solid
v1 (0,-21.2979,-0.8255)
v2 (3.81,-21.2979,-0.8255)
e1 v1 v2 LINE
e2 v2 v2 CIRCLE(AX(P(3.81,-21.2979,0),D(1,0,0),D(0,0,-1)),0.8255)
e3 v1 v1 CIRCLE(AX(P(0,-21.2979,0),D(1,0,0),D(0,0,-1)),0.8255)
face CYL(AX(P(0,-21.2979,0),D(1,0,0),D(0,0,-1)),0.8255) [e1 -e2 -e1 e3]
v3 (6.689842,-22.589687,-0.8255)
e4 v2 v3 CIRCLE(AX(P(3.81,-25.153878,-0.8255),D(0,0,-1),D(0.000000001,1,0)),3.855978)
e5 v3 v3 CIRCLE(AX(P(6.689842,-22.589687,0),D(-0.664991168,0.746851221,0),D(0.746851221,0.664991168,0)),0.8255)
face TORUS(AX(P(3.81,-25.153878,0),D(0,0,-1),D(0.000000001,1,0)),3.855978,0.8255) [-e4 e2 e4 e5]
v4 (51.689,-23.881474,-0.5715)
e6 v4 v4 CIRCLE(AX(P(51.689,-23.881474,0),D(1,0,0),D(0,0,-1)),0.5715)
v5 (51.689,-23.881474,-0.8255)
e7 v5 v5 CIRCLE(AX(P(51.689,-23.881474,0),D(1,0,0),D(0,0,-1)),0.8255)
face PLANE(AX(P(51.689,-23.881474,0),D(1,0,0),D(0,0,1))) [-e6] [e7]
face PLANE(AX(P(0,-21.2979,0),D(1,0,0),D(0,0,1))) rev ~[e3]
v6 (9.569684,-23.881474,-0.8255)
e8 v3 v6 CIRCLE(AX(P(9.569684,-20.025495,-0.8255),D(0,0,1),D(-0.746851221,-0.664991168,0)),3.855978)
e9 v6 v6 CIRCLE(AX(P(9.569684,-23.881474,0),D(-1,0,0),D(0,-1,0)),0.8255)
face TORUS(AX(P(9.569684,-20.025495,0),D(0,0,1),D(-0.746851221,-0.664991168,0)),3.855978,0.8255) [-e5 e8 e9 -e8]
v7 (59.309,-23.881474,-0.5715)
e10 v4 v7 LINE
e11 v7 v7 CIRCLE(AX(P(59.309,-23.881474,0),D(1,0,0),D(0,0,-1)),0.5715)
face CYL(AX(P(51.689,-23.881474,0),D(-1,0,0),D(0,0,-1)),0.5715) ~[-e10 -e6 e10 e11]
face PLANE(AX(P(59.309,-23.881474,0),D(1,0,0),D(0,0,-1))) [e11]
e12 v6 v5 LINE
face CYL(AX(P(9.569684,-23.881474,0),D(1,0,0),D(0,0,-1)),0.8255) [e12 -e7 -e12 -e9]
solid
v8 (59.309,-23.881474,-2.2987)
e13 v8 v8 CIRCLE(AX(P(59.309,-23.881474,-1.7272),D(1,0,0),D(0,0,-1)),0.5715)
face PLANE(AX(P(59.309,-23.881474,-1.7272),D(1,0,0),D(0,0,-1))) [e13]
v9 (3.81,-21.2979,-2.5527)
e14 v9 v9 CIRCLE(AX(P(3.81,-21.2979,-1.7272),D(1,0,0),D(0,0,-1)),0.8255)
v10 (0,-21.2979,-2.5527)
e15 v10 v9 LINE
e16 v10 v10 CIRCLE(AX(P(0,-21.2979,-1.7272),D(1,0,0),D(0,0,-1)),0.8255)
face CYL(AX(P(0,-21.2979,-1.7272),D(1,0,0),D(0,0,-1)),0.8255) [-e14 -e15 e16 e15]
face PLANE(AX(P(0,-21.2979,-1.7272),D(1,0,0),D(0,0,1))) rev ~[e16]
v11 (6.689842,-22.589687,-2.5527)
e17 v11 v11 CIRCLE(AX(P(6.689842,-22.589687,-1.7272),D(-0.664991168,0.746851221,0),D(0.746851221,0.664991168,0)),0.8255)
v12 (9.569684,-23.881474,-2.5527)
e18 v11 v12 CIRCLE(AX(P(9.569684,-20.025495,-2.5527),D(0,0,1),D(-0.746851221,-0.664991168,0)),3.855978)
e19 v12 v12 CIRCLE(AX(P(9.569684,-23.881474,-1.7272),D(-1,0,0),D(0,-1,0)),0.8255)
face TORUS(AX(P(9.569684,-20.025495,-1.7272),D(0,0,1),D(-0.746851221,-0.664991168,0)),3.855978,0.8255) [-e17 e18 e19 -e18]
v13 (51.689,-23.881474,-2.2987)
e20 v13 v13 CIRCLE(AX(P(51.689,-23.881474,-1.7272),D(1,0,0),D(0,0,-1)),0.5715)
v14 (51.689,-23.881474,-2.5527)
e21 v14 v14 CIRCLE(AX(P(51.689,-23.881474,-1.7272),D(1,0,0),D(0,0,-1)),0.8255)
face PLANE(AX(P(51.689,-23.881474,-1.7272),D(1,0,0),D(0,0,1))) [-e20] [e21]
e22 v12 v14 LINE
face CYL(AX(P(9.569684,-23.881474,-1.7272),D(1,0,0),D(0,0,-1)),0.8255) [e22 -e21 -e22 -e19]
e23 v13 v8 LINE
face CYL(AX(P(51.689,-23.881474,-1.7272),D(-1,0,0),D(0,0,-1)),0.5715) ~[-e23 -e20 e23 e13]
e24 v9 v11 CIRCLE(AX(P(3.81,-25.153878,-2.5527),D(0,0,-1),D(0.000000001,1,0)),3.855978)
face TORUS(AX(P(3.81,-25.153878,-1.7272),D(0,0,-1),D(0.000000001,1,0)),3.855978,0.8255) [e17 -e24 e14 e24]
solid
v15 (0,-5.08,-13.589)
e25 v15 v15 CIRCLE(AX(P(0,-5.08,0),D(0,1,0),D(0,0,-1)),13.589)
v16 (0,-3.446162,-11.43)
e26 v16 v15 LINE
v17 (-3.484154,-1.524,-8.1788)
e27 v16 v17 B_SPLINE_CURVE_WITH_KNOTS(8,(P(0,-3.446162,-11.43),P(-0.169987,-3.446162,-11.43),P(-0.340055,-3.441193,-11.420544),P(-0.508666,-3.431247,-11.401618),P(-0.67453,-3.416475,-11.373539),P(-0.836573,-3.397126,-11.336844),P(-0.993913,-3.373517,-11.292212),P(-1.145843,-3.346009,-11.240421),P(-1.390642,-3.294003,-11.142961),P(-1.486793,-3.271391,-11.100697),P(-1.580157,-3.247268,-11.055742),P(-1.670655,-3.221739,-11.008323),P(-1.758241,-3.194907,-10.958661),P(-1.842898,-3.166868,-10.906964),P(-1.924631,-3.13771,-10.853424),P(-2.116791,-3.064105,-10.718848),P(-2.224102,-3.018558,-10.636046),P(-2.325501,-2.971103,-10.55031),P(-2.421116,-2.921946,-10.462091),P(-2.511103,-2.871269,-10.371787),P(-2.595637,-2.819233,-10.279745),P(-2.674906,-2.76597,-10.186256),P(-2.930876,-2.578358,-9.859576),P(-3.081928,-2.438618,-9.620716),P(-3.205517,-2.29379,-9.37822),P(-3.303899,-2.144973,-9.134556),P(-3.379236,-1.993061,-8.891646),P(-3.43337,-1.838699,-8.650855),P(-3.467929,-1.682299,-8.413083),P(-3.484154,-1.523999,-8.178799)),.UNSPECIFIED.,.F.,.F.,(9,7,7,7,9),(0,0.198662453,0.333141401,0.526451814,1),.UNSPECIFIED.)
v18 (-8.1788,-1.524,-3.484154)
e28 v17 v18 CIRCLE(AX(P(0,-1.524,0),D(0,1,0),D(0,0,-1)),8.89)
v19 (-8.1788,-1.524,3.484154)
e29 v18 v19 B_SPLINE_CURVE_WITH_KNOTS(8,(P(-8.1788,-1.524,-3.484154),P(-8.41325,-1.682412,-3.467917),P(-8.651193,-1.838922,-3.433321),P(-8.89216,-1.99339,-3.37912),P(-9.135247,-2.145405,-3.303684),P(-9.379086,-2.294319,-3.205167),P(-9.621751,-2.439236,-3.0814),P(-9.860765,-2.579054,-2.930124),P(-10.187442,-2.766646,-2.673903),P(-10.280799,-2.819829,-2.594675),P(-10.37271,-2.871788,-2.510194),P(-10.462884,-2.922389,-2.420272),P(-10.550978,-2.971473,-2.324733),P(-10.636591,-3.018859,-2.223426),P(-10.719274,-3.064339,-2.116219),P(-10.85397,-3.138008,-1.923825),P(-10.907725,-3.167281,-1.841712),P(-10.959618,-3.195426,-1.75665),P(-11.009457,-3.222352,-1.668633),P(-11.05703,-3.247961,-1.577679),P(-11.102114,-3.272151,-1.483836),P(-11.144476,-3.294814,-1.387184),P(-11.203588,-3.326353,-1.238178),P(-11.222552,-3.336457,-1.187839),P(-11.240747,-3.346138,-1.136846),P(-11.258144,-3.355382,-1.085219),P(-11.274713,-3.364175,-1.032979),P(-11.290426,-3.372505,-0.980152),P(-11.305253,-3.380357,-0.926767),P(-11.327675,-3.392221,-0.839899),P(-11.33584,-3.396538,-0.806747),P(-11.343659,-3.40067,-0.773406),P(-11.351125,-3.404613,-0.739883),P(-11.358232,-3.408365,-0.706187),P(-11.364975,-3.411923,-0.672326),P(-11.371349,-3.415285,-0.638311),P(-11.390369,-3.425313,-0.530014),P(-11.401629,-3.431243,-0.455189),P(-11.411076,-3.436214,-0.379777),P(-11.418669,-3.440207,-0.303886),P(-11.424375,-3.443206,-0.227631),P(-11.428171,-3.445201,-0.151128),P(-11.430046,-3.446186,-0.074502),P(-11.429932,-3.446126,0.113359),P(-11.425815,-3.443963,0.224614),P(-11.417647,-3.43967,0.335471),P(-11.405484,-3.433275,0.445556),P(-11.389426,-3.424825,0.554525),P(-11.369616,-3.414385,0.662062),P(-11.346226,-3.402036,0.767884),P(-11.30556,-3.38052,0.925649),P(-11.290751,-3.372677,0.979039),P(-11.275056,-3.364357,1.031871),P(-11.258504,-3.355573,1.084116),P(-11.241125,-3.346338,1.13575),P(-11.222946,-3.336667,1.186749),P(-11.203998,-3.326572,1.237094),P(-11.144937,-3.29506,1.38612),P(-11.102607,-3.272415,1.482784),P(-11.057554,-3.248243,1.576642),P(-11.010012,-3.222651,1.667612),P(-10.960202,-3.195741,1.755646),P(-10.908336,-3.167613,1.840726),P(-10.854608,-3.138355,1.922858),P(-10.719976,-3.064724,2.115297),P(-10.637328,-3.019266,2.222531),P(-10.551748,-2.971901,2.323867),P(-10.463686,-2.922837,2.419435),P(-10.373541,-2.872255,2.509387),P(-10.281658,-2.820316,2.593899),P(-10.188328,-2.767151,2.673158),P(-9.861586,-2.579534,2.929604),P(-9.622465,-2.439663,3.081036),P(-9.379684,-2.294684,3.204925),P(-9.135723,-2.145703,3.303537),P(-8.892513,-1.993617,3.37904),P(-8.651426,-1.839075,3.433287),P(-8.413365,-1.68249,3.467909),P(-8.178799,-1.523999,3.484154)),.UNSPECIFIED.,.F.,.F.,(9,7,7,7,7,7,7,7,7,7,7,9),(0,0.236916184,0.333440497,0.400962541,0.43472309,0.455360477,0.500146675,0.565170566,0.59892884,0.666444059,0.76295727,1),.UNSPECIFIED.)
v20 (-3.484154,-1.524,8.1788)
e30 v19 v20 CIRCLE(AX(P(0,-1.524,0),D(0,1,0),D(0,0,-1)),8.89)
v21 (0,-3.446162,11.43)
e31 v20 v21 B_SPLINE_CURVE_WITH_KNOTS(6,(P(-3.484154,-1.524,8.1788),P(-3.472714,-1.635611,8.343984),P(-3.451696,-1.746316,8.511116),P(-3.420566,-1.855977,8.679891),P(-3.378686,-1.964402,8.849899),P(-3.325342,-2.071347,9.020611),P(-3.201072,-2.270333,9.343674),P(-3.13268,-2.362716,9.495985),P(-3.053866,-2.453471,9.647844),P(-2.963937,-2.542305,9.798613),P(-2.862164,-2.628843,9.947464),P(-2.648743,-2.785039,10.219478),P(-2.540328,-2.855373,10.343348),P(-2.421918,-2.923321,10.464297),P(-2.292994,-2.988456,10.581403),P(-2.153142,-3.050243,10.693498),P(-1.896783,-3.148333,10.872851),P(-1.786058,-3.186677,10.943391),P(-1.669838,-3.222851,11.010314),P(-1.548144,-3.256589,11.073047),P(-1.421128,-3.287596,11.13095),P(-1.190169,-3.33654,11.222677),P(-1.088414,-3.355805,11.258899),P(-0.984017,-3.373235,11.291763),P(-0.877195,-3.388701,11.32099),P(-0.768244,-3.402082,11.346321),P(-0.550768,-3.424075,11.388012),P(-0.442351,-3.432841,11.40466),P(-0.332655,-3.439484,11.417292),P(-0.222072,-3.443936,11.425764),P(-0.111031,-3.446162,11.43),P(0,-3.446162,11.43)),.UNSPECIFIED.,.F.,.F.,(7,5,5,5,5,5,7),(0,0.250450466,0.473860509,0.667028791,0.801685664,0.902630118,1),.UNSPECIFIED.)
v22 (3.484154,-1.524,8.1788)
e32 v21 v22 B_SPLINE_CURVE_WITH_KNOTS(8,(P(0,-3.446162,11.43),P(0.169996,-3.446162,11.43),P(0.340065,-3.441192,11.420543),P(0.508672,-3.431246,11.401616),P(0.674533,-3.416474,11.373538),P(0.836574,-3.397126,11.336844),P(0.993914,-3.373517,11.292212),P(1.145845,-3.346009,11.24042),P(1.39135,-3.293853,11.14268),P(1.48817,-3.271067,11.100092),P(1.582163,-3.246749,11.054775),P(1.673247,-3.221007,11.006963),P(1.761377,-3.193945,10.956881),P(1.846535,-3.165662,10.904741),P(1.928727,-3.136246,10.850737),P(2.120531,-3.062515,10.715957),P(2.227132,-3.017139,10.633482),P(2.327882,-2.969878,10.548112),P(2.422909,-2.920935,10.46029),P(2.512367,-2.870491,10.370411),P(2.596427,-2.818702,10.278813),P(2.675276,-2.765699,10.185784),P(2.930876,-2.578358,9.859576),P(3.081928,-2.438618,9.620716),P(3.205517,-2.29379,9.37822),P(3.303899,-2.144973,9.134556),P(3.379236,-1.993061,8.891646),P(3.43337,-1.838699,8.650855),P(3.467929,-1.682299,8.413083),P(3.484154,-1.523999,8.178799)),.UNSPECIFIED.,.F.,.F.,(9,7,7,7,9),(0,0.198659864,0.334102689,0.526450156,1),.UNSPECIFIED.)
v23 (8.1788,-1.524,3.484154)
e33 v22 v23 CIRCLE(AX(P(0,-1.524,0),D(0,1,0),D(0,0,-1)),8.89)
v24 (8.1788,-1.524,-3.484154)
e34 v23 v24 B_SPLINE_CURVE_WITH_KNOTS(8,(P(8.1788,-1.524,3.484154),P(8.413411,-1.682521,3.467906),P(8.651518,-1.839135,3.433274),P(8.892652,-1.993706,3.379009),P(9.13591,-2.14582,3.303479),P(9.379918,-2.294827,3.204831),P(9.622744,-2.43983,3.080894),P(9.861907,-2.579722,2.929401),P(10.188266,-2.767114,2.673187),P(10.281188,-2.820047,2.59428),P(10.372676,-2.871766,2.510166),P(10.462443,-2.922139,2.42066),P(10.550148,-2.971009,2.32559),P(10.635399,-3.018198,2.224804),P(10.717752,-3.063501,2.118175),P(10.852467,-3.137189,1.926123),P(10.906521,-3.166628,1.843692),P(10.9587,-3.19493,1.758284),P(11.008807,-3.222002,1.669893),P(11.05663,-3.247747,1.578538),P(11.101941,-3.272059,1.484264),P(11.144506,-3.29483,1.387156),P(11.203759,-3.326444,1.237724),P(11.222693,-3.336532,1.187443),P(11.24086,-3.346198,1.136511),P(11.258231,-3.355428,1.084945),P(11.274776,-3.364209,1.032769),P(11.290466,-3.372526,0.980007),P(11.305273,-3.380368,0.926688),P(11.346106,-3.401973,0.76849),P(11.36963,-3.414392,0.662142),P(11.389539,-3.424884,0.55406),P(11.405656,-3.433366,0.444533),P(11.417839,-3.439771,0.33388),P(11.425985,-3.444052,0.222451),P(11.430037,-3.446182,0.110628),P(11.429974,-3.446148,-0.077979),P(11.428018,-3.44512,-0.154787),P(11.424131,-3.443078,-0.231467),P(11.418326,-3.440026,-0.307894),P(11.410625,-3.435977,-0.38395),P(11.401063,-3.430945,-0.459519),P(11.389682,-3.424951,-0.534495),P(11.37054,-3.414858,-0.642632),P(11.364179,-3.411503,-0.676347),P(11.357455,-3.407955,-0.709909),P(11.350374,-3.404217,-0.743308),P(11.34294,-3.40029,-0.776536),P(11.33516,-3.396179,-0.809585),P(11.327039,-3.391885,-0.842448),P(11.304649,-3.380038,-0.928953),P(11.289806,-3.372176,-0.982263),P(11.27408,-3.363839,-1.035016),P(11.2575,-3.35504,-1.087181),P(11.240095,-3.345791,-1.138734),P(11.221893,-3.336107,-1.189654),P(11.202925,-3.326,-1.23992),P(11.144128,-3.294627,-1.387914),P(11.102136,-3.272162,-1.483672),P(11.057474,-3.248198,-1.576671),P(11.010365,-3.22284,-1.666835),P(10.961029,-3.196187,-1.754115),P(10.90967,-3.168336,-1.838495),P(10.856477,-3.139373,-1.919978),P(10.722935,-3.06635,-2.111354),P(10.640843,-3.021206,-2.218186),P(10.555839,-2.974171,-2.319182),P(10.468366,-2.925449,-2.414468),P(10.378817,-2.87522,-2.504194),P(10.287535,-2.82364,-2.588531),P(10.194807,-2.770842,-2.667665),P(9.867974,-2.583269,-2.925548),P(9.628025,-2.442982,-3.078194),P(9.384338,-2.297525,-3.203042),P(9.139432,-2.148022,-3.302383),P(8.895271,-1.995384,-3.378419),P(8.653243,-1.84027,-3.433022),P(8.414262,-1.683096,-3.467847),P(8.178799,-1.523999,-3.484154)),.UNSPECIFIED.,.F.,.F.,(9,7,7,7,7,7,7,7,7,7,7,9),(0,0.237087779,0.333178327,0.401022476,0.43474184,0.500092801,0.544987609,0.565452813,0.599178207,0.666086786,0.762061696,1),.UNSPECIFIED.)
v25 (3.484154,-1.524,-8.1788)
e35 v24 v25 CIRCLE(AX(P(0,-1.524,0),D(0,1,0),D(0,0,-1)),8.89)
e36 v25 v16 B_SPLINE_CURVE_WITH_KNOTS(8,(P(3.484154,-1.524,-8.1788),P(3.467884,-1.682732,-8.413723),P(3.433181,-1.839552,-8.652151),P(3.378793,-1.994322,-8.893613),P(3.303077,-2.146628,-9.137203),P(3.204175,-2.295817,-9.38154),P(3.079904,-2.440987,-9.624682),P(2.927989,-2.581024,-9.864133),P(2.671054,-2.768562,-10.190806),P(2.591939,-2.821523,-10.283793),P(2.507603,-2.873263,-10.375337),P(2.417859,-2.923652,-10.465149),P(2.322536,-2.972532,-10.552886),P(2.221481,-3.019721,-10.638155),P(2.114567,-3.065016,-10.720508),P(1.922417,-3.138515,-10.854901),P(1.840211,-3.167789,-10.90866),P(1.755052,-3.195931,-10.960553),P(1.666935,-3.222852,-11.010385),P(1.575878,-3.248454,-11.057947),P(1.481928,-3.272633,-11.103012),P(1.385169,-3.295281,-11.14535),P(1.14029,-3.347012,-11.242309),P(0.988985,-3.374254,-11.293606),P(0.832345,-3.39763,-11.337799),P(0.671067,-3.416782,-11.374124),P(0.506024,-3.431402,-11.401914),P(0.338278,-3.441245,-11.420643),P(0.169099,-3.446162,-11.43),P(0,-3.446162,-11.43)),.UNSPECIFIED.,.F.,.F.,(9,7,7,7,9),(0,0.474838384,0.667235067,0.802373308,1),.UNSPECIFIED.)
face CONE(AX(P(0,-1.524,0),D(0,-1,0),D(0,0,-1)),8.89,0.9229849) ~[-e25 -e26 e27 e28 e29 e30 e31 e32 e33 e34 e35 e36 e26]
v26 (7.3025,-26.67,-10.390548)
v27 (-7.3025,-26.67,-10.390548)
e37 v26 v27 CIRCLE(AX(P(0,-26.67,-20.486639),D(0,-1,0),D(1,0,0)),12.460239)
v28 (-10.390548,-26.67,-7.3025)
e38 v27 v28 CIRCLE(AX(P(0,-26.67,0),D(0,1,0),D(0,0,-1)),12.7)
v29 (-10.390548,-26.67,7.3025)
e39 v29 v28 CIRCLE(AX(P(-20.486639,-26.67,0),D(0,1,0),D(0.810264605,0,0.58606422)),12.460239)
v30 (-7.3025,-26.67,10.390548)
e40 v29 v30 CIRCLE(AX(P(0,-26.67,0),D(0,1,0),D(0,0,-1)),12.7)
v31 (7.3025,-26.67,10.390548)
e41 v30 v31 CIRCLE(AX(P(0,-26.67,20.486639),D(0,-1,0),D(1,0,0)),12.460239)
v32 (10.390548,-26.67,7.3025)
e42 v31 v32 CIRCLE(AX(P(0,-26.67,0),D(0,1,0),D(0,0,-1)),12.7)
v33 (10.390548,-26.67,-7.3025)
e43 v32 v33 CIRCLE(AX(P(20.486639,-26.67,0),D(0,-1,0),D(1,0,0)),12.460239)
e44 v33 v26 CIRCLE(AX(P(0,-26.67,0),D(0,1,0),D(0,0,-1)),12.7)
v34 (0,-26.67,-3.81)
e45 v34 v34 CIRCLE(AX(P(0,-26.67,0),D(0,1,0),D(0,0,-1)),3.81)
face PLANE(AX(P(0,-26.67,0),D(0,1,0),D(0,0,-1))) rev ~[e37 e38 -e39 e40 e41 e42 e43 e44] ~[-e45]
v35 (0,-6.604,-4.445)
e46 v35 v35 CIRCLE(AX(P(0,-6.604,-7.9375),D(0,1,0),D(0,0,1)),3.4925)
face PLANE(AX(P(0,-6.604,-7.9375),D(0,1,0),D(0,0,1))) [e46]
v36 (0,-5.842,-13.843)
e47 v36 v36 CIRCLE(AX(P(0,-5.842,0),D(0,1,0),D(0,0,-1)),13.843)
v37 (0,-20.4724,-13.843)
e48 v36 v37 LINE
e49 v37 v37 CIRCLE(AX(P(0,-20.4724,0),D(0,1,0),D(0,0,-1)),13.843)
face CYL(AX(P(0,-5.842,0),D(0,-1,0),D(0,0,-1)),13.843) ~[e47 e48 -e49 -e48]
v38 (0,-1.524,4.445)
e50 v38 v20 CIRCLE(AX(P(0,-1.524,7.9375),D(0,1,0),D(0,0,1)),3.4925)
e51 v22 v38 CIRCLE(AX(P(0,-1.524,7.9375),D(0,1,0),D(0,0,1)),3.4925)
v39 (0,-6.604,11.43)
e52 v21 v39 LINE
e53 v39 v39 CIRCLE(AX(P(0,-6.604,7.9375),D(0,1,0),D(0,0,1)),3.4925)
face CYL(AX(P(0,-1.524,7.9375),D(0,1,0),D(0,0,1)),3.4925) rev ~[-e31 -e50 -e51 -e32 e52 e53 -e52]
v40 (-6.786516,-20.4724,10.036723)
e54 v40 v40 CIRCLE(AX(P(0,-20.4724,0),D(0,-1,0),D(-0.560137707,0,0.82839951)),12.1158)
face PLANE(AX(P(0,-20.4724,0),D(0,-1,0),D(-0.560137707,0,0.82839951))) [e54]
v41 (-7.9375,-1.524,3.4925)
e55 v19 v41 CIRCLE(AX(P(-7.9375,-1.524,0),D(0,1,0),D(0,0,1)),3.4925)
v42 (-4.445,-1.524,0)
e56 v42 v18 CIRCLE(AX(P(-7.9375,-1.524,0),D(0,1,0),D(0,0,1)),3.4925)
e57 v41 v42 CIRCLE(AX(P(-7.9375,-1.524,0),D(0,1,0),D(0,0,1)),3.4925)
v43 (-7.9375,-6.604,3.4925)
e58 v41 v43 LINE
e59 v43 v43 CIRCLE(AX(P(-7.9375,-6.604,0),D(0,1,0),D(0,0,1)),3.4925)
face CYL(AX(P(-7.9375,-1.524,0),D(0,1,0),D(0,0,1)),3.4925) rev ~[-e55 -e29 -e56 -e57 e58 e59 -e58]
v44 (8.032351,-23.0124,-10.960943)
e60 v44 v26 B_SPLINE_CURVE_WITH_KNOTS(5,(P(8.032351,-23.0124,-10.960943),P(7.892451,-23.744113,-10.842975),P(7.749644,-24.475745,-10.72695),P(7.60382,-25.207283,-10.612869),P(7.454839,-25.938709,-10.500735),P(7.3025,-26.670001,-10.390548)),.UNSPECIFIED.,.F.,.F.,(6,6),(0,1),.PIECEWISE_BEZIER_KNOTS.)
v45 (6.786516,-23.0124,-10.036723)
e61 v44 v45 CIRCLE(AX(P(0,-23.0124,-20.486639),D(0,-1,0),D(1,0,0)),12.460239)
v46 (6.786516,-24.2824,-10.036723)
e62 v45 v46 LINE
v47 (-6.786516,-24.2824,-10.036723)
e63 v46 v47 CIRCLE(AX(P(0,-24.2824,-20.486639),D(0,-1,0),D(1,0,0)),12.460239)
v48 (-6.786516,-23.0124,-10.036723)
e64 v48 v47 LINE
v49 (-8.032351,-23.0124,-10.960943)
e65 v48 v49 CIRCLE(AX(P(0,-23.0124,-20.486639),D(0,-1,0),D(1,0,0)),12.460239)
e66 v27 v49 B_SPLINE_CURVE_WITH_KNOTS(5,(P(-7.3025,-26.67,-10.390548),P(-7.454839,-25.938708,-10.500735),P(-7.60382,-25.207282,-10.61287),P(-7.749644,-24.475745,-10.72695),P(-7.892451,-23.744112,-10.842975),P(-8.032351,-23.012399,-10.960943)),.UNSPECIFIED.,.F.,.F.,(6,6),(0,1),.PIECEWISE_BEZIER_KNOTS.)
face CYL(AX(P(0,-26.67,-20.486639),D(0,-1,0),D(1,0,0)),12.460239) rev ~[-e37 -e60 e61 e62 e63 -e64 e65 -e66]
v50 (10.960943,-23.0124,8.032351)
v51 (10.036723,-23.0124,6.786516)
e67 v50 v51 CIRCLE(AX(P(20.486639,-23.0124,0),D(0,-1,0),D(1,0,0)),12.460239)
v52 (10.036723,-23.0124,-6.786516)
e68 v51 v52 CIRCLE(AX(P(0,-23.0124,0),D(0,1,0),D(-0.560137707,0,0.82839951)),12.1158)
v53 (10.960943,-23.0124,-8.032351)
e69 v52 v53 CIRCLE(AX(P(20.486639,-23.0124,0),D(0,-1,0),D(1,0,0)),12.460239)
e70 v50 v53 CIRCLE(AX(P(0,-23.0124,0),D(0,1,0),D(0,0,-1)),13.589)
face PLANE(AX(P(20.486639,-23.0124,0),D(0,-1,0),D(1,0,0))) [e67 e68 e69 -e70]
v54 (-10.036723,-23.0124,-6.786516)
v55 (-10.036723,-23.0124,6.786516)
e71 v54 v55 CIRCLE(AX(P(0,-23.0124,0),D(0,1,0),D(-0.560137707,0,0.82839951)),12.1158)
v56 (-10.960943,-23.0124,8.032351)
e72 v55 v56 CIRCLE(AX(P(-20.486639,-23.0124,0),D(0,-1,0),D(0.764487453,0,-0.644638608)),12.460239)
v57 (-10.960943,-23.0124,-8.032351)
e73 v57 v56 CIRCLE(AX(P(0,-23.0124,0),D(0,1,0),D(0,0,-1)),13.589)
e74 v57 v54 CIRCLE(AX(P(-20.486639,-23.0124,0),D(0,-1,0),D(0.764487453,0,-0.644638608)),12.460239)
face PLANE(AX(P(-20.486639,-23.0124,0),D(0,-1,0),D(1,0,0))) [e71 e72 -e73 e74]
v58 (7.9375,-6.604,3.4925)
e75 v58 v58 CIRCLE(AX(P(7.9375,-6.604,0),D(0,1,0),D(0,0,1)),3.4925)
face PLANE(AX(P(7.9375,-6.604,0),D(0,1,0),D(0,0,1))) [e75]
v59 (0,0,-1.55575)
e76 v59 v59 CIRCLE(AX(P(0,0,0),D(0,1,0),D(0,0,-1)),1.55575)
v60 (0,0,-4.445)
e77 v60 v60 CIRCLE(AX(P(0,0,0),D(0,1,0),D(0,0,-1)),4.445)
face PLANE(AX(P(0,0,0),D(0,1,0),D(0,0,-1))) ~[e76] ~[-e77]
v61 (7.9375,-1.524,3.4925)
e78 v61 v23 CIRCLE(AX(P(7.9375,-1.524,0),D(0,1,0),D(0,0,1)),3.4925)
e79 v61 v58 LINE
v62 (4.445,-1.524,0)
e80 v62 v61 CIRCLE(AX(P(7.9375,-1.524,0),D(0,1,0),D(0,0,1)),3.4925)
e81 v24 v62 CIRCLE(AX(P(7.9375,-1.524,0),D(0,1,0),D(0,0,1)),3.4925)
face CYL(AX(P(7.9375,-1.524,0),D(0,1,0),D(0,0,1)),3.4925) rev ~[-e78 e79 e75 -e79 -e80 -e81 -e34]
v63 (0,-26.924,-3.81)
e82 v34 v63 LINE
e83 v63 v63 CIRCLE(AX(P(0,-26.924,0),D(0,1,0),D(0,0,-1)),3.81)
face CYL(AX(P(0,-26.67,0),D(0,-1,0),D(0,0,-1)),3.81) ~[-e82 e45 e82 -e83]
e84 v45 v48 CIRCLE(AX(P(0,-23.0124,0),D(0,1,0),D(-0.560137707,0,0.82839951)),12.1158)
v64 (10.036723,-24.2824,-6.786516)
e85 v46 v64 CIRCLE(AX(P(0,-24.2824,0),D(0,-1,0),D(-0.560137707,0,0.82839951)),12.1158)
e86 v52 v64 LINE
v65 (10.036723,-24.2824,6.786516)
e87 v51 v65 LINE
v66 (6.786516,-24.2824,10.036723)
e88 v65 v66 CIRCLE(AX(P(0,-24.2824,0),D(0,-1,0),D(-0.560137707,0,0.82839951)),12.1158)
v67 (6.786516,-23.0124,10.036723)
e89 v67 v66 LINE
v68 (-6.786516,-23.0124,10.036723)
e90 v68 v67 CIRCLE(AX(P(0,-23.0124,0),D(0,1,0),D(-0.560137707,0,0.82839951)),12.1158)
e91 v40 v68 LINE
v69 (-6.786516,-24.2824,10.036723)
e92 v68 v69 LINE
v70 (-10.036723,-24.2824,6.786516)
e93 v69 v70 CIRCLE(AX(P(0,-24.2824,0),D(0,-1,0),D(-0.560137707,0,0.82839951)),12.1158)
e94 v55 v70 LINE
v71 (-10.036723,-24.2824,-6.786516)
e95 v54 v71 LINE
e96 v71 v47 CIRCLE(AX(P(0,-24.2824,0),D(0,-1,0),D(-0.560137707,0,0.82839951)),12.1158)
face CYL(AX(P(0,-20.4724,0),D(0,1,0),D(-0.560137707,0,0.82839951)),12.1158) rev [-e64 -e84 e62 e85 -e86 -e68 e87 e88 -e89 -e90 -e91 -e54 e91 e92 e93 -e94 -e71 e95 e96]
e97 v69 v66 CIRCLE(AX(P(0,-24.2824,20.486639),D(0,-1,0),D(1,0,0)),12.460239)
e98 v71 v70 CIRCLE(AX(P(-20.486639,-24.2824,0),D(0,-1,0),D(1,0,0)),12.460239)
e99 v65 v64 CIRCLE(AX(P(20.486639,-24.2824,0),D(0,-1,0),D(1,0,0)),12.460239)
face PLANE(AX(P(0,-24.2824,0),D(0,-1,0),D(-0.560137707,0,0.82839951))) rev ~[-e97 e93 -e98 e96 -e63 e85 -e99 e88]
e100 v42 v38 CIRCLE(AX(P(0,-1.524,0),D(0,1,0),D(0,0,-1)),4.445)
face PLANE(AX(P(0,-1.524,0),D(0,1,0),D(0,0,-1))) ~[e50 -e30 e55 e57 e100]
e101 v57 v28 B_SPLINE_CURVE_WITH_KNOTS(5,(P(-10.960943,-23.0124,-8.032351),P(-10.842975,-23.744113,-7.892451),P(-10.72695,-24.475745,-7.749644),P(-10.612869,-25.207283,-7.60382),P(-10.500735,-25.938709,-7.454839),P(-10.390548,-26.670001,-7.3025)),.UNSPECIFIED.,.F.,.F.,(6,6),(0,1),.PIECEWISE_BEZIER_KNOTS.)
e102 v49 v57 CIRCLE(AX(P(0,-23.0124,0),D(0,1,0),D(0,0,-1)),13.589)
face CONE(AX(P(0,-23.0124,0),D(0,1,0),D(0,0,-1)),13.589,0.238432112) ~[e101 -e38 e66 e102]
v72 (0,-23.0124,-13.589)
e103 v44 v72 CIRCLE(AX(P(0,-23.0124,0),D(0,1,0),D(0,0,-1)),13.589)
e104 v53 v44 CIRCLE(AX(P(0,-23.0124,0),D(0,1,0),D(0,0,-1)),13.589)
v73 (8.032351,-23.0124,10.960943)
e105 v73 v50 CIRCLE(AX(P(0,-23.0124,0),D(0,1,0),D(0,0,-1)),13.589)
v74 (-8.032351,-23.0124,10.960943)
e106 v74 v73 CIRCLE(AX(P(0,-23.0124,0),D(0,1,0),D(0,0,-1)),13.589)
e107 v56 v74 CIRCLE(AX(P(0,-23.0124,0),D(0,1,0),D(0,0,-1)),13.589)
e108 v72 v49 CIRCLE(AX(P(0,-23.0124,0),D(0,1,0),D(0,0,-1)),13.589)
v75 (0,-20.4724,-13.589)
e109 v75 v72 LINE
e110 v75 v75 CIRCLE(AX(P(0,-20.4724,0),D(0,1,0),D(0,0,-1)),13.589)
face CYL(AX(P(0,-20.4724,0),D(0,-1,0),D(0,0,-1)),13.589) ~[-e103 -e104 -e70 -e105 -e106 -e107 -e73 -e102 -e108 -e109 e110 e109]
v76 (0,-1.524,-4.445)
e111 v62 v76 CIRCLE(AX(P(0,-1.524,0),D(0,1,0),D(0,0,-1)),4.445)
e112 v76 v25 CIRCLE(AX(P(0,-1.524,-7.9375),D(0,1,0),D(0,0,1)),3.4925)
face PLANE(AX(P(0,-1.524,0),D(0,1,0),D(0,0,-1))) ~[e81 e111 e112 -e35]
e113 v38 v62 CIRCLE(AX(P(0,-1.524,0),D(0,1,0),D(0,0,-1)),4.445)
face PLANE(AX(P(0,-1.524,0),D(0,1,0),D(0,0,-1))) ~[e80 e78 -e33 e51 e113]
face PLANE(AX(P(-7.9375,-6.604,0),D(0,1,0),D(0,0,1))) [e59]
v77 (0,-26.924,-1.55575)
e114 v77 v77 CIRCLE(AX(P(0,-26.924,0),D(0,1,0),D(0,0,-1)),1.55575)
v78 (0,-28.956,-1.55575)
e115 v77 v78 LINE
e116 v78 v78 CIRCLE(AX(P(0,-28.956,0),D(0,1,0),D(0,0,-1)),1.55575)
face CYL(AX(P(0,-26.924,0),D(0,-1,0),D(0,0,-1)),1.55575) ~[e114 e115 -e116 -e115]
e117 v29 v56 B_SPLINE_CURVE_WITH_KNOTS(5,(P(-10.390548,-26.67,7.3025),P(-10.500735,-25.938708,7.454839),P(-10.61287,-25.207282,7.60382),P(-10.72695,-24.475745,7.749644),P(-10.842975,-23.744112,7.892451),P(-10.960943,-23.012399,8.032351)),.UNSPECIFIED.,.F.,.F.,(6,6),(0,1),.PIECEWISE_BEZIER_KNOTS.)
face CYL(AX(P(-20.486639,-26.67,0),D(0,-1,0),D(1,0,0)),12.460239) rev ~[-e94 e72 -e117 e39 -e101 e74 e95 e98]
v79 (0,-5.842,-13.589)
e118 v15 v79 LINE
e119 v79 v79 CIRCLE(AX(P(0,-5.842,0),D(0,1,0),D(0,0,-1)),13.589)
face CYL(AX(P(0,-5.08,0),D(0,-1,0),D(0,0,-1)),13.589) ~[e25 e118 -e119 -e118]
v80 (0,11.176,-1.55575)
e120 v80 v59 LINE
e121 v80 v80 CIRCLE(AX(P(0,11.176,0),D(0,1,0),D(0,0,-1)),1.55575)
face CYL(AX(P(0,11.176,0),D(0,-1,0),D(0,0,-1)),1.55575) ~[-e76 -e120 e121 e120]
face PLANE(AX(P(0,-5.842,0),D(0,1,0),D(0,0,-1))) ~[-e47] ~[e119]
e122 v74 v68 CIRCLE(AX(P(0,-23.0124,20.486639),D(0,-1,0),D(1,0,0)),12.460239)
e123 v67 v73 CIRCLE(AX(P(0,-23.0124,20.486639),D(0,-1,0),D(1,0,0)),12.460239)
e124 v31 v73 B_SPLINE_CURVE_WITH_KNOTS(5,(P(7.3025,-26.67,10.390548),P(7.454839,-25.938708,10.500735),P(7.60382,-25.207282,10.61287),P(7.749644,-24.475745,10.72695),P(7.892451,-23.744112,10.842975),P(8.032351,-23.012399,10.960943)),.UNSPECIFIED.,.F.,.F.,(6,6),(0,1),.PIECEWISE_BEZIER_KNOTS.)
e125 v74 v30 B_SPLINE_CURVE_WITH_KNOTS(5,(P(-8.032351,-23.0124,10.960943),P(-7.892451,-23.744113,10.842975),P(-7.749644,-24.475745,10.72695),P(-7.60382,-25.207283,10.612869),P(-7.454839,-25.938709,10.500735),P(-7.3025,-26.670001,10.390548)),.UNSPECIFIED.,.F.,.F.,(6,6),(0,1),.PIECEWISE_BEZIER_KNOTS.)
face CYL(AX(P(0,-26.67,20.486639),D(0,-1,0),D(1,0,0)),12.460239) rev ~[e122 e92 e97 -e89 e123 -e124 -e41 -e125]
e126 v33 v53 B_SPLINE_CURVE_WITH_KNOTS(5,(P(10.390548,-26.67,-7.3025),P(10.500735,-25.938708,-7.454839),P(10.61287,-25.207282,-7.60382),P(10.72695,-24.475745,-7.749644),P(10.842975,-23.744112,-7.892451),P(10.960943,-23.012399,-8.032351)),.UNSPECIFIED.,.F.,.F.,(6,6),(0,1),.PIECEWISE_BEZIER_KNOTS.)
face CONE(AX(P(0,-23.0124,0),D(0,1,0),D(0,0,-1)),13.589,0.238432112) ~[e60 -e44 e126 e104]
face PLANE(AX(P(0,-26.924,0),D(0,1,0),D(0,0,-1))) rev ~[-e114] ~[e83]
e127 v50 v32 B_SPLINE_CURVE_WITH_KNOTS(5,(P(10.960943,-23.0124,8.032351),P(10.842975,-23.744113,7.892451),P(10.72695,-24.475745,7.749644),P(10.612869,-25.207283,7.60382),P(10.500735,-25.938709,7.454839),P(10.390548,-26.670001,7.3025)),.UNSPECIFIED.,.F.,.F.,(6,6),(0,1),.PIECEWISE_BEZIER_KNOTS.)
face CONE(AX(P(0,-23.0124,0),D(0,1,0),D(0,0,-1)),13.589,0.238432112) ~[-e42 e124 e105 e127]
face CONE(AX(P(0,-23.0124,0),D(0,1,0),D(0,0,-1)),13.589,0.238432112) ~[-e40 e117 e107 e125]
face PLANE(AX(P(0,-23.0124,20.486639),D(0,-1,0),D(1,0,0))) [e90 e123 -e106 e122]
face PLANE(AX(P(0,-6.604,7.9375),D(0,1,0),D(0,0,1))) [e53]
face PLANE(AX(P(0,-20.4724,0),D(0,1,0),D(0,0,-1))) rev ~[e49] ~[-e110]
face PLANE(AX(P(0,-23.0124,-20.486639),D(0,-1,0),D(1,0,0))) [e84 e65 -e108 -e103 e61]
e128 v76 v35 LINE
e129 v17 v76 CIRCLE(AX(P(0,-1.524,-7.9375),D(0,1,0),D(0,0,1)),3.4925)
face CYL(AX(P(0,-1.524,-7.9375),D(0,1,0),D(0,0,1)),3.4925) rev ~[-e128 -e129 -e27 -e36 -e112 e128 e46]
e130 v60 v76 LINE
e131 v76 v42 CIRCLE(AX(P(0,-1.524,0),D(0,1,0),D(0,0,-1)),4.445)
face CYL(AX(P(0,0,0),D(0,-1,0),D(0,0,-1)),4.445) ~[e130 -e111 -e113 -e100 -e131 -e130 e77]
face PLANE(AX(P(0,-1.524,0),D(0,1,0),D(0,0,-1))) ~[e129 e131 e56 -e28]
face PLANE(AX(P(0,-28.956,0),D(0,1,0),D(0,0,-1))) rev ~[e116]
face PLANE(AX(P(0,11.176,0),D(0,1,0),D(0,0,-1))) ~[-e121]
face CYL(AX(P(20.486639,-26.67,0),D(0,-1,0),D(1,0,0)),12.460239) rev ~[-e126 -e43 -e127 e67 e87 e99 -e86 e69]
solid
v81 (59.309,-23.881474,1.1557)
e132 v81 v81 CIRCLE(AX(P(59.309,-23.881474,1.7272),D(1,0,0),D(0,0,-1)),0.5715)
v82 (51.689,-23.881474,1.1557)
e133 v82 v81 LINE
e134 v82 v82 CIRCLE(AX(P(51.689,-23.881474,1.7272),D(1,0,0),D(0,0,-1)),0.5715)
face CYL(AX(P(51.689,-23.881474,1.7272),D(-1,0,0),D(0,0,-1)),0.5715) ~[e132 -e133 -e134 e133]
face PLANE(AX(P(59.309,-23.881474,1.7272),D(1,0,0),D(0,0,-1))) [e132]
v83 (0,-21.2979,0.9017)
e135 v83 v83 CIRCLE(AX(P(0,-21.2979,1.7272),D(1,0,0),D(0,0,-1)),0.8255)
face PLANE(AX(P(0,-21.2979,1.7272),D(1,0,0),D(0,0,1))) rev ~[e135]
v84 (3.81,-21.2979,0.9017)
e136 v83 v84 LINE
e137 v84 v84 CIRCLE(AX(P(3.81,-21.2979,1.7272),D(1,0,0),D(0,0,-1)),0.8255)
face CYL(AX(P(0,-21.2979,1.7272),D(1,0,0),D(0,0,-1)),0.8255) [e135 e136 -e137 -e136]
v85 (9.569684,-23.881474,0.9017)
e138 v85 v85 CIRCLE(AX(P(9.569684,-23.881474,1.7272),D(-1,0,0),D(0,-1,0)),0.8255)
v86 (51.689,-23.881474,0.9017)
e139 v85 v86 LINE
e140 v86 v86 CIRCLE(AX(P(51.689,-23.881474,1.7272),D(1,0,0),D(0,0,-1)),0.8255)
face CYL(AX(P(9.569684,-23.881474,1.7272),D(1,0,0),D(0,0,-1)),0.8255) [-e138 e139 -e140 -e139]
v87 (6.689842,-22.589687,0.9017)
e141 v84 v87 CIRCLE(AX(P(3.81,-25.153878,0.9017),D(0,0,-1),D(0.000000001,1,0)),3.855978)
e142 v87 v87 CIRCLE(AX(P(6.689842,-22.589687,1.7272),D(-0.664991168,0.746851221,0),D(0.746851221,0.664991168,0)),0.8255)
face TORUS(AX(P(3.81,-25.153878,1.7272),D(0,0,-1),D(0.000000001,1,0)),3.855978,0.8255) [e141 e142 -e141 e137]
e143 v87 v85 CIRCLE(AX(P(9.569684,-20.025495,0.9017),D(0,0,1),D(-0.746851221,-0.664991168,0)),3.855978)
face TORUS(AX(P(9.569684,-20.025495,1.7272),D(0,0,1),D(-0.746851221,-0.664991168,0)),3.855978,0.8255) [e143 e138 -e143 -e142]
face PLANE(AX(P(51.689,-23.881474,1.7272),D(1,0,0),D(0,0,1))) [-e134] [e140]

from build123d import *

# Parameters (mm, degrees)
SKETCH2_R               = 3.4925
CUT_EXTRUDE1_DEPTH      = 5.08
SKETCH3_R               = 12.460238567
CUT_EXTRUDE2_DEPTH      = 3.6576
CUT_EXTRUDE3_DEPTH      = 1.27
CUT_EXTRUDE3_DEPTH_BACK = 2.54
SKETCH4_R               = 12.1158
SKETCH10_R              = 0.8255
SKETCH13_R              = 0.5715
BOSS_EXTRUDE1_DEPTH     = 7.62


with BuildPart() as part:
    # Sketch1 → Revolve1 (revolve)
    with BuildSketch(Plane.XY, mode=Mode.PRIVATE) as revolve1_sk:
        Polygon((0, 11.176), (1.55575, 11.176), (1.55575, 0), (4.445, 0), (4.445, -1.524), (8.89, -1.524), (13.589, -5.08), (13.589, -5.842), (13.843, -5.842), (13.843, -20.4724), (13.589, -20.4724), (13.589, -23.0124), (12.7, -26.67), (3.81, -26.67), (3.81, -26.924), (1.55575, -26.924), (1.55575, -28.956), (0, -28.956), align=None)
    revolve(revolve1_sk.sketch.rotate(Axis((0, -28.956, 0), (0, 1, 0)), 90), axis=Axis((0, -28.956, 0), (0, 1, 0)))

    # Sketch2 → Cut-Extrude1 (cut)
    with BuildSketch(Plane(origin=(0, -1.524, 0), x_dir=(1, 0, 0), z_dir=(0, 1, 0))):
        with Locations(Location((0, 7.9375, 0), (0, 0, 270))):
            Circle(SKETCH2_R)
        with Locations(Location((7.9375, 0, 0), (0, 0, 270))):
            Circle(SKETCH2_R)
        with Locations(Location((0, -7.9375, 0), (0, 0, 270))):
            Circle(SKETCH2_R)
        with Locations(Location((-7.9375, 0, 0), (0, 0, 270))):
            Circle(SKETCH2_R)
    extrude(amount=-CUT_EXTRUDE1_DEPTH, mode=Mode.SUBTRACT)

    # Sketch3 → Cut-Extrude2 (cut)
    with BuildSketch(Plane.XZ.offset(26.67)):
        with Locations((0, 20.486638567)):
            Circle(SKETCH3_R)
        with Locations((-20.486638567, 0)):
            Circle(SKETCH3_R)
        with Locations((0, -20.486638567)):
            Circle(SKETCH3_R)
        with Locations((20.486638567, 0)):
            Circle(SKETCH3_R)
    extrude(amount=-CUT_EXTRUDE2_DEPTH, mode=Mode.SUBTRACT)

    # Sketch4 → Cut-Extrude3 (cut, two sides: drawn at the far end of the back side and taken through both)
    with BuildSketch(Plane.XZ.offset(23.0124).offset(-CUT_EXTRUDE3_DEPTH_BACK)):
        with Locations(Location((0, 0, 0), (0, 0, 124.065321666))):
            Circle(SKETCH4_R)
    extrude(amount=CUT_EXTRUDE3_DEPTH + CUT_EXTRUDE3_DEPTH_BACK, mode=Mode.SUBTRACT)


with BuildPart() as body_2:
    # Sweep1: sweep along a path in Sketch12
    with BuildLine(Plane.XY) as sweep1_path:
        Line((0, -21.2979), (3.81, -21.2979))
        ThreePointArc((3.81, -21.2979), (5.388147914, -21.635637579), (6.689842062, -22.589686769))
        ThreePointArc((6.689842062, -22.589686769), (7.991536209, -23.543735959), (9.569684124, -23.881473538))
        Line((9.569684124, -23.881473538), (51.689, -23.881473538))
    # Sketch10 → Sweep1 (sweep)
    with BuildSketch(Plane(origin=(0, 0, 0), x_dir=(0, 0, -1), z_dir=(1, 0, 0))):
        with Locations((0, -21.2979)):
            Circle(SKETCH10_R)
        with Locations((-1.7272, -21.2979)):
            Circle(SKETCH10_R)
        with Locations((1.7272, -21.2979)):
            Circle(SKETCH10_R)
    sweep(path=sweep1_path.line)

    # Sketch13 → Boss-Extrude1 (add)
    with BuildSketch(Plane(origin=(51.689, 0, 0), x_dir=(0, 0, -1), z_dir=(1, 0, 0))):
        with Locations((1.7272, -23.881473538)):
            Circle(SKETCH13_R)
        with Locations((0, -23.881473538)):
            Circle(SKETCH13_R)
        with Locations((-1.7272, -23.881473538)):
            Circle(SKETCH13_R)
    extrude(amount=BOSS_EXTRUDE1_DEPTH)


solid = Compound([part.part, body_2.part])
